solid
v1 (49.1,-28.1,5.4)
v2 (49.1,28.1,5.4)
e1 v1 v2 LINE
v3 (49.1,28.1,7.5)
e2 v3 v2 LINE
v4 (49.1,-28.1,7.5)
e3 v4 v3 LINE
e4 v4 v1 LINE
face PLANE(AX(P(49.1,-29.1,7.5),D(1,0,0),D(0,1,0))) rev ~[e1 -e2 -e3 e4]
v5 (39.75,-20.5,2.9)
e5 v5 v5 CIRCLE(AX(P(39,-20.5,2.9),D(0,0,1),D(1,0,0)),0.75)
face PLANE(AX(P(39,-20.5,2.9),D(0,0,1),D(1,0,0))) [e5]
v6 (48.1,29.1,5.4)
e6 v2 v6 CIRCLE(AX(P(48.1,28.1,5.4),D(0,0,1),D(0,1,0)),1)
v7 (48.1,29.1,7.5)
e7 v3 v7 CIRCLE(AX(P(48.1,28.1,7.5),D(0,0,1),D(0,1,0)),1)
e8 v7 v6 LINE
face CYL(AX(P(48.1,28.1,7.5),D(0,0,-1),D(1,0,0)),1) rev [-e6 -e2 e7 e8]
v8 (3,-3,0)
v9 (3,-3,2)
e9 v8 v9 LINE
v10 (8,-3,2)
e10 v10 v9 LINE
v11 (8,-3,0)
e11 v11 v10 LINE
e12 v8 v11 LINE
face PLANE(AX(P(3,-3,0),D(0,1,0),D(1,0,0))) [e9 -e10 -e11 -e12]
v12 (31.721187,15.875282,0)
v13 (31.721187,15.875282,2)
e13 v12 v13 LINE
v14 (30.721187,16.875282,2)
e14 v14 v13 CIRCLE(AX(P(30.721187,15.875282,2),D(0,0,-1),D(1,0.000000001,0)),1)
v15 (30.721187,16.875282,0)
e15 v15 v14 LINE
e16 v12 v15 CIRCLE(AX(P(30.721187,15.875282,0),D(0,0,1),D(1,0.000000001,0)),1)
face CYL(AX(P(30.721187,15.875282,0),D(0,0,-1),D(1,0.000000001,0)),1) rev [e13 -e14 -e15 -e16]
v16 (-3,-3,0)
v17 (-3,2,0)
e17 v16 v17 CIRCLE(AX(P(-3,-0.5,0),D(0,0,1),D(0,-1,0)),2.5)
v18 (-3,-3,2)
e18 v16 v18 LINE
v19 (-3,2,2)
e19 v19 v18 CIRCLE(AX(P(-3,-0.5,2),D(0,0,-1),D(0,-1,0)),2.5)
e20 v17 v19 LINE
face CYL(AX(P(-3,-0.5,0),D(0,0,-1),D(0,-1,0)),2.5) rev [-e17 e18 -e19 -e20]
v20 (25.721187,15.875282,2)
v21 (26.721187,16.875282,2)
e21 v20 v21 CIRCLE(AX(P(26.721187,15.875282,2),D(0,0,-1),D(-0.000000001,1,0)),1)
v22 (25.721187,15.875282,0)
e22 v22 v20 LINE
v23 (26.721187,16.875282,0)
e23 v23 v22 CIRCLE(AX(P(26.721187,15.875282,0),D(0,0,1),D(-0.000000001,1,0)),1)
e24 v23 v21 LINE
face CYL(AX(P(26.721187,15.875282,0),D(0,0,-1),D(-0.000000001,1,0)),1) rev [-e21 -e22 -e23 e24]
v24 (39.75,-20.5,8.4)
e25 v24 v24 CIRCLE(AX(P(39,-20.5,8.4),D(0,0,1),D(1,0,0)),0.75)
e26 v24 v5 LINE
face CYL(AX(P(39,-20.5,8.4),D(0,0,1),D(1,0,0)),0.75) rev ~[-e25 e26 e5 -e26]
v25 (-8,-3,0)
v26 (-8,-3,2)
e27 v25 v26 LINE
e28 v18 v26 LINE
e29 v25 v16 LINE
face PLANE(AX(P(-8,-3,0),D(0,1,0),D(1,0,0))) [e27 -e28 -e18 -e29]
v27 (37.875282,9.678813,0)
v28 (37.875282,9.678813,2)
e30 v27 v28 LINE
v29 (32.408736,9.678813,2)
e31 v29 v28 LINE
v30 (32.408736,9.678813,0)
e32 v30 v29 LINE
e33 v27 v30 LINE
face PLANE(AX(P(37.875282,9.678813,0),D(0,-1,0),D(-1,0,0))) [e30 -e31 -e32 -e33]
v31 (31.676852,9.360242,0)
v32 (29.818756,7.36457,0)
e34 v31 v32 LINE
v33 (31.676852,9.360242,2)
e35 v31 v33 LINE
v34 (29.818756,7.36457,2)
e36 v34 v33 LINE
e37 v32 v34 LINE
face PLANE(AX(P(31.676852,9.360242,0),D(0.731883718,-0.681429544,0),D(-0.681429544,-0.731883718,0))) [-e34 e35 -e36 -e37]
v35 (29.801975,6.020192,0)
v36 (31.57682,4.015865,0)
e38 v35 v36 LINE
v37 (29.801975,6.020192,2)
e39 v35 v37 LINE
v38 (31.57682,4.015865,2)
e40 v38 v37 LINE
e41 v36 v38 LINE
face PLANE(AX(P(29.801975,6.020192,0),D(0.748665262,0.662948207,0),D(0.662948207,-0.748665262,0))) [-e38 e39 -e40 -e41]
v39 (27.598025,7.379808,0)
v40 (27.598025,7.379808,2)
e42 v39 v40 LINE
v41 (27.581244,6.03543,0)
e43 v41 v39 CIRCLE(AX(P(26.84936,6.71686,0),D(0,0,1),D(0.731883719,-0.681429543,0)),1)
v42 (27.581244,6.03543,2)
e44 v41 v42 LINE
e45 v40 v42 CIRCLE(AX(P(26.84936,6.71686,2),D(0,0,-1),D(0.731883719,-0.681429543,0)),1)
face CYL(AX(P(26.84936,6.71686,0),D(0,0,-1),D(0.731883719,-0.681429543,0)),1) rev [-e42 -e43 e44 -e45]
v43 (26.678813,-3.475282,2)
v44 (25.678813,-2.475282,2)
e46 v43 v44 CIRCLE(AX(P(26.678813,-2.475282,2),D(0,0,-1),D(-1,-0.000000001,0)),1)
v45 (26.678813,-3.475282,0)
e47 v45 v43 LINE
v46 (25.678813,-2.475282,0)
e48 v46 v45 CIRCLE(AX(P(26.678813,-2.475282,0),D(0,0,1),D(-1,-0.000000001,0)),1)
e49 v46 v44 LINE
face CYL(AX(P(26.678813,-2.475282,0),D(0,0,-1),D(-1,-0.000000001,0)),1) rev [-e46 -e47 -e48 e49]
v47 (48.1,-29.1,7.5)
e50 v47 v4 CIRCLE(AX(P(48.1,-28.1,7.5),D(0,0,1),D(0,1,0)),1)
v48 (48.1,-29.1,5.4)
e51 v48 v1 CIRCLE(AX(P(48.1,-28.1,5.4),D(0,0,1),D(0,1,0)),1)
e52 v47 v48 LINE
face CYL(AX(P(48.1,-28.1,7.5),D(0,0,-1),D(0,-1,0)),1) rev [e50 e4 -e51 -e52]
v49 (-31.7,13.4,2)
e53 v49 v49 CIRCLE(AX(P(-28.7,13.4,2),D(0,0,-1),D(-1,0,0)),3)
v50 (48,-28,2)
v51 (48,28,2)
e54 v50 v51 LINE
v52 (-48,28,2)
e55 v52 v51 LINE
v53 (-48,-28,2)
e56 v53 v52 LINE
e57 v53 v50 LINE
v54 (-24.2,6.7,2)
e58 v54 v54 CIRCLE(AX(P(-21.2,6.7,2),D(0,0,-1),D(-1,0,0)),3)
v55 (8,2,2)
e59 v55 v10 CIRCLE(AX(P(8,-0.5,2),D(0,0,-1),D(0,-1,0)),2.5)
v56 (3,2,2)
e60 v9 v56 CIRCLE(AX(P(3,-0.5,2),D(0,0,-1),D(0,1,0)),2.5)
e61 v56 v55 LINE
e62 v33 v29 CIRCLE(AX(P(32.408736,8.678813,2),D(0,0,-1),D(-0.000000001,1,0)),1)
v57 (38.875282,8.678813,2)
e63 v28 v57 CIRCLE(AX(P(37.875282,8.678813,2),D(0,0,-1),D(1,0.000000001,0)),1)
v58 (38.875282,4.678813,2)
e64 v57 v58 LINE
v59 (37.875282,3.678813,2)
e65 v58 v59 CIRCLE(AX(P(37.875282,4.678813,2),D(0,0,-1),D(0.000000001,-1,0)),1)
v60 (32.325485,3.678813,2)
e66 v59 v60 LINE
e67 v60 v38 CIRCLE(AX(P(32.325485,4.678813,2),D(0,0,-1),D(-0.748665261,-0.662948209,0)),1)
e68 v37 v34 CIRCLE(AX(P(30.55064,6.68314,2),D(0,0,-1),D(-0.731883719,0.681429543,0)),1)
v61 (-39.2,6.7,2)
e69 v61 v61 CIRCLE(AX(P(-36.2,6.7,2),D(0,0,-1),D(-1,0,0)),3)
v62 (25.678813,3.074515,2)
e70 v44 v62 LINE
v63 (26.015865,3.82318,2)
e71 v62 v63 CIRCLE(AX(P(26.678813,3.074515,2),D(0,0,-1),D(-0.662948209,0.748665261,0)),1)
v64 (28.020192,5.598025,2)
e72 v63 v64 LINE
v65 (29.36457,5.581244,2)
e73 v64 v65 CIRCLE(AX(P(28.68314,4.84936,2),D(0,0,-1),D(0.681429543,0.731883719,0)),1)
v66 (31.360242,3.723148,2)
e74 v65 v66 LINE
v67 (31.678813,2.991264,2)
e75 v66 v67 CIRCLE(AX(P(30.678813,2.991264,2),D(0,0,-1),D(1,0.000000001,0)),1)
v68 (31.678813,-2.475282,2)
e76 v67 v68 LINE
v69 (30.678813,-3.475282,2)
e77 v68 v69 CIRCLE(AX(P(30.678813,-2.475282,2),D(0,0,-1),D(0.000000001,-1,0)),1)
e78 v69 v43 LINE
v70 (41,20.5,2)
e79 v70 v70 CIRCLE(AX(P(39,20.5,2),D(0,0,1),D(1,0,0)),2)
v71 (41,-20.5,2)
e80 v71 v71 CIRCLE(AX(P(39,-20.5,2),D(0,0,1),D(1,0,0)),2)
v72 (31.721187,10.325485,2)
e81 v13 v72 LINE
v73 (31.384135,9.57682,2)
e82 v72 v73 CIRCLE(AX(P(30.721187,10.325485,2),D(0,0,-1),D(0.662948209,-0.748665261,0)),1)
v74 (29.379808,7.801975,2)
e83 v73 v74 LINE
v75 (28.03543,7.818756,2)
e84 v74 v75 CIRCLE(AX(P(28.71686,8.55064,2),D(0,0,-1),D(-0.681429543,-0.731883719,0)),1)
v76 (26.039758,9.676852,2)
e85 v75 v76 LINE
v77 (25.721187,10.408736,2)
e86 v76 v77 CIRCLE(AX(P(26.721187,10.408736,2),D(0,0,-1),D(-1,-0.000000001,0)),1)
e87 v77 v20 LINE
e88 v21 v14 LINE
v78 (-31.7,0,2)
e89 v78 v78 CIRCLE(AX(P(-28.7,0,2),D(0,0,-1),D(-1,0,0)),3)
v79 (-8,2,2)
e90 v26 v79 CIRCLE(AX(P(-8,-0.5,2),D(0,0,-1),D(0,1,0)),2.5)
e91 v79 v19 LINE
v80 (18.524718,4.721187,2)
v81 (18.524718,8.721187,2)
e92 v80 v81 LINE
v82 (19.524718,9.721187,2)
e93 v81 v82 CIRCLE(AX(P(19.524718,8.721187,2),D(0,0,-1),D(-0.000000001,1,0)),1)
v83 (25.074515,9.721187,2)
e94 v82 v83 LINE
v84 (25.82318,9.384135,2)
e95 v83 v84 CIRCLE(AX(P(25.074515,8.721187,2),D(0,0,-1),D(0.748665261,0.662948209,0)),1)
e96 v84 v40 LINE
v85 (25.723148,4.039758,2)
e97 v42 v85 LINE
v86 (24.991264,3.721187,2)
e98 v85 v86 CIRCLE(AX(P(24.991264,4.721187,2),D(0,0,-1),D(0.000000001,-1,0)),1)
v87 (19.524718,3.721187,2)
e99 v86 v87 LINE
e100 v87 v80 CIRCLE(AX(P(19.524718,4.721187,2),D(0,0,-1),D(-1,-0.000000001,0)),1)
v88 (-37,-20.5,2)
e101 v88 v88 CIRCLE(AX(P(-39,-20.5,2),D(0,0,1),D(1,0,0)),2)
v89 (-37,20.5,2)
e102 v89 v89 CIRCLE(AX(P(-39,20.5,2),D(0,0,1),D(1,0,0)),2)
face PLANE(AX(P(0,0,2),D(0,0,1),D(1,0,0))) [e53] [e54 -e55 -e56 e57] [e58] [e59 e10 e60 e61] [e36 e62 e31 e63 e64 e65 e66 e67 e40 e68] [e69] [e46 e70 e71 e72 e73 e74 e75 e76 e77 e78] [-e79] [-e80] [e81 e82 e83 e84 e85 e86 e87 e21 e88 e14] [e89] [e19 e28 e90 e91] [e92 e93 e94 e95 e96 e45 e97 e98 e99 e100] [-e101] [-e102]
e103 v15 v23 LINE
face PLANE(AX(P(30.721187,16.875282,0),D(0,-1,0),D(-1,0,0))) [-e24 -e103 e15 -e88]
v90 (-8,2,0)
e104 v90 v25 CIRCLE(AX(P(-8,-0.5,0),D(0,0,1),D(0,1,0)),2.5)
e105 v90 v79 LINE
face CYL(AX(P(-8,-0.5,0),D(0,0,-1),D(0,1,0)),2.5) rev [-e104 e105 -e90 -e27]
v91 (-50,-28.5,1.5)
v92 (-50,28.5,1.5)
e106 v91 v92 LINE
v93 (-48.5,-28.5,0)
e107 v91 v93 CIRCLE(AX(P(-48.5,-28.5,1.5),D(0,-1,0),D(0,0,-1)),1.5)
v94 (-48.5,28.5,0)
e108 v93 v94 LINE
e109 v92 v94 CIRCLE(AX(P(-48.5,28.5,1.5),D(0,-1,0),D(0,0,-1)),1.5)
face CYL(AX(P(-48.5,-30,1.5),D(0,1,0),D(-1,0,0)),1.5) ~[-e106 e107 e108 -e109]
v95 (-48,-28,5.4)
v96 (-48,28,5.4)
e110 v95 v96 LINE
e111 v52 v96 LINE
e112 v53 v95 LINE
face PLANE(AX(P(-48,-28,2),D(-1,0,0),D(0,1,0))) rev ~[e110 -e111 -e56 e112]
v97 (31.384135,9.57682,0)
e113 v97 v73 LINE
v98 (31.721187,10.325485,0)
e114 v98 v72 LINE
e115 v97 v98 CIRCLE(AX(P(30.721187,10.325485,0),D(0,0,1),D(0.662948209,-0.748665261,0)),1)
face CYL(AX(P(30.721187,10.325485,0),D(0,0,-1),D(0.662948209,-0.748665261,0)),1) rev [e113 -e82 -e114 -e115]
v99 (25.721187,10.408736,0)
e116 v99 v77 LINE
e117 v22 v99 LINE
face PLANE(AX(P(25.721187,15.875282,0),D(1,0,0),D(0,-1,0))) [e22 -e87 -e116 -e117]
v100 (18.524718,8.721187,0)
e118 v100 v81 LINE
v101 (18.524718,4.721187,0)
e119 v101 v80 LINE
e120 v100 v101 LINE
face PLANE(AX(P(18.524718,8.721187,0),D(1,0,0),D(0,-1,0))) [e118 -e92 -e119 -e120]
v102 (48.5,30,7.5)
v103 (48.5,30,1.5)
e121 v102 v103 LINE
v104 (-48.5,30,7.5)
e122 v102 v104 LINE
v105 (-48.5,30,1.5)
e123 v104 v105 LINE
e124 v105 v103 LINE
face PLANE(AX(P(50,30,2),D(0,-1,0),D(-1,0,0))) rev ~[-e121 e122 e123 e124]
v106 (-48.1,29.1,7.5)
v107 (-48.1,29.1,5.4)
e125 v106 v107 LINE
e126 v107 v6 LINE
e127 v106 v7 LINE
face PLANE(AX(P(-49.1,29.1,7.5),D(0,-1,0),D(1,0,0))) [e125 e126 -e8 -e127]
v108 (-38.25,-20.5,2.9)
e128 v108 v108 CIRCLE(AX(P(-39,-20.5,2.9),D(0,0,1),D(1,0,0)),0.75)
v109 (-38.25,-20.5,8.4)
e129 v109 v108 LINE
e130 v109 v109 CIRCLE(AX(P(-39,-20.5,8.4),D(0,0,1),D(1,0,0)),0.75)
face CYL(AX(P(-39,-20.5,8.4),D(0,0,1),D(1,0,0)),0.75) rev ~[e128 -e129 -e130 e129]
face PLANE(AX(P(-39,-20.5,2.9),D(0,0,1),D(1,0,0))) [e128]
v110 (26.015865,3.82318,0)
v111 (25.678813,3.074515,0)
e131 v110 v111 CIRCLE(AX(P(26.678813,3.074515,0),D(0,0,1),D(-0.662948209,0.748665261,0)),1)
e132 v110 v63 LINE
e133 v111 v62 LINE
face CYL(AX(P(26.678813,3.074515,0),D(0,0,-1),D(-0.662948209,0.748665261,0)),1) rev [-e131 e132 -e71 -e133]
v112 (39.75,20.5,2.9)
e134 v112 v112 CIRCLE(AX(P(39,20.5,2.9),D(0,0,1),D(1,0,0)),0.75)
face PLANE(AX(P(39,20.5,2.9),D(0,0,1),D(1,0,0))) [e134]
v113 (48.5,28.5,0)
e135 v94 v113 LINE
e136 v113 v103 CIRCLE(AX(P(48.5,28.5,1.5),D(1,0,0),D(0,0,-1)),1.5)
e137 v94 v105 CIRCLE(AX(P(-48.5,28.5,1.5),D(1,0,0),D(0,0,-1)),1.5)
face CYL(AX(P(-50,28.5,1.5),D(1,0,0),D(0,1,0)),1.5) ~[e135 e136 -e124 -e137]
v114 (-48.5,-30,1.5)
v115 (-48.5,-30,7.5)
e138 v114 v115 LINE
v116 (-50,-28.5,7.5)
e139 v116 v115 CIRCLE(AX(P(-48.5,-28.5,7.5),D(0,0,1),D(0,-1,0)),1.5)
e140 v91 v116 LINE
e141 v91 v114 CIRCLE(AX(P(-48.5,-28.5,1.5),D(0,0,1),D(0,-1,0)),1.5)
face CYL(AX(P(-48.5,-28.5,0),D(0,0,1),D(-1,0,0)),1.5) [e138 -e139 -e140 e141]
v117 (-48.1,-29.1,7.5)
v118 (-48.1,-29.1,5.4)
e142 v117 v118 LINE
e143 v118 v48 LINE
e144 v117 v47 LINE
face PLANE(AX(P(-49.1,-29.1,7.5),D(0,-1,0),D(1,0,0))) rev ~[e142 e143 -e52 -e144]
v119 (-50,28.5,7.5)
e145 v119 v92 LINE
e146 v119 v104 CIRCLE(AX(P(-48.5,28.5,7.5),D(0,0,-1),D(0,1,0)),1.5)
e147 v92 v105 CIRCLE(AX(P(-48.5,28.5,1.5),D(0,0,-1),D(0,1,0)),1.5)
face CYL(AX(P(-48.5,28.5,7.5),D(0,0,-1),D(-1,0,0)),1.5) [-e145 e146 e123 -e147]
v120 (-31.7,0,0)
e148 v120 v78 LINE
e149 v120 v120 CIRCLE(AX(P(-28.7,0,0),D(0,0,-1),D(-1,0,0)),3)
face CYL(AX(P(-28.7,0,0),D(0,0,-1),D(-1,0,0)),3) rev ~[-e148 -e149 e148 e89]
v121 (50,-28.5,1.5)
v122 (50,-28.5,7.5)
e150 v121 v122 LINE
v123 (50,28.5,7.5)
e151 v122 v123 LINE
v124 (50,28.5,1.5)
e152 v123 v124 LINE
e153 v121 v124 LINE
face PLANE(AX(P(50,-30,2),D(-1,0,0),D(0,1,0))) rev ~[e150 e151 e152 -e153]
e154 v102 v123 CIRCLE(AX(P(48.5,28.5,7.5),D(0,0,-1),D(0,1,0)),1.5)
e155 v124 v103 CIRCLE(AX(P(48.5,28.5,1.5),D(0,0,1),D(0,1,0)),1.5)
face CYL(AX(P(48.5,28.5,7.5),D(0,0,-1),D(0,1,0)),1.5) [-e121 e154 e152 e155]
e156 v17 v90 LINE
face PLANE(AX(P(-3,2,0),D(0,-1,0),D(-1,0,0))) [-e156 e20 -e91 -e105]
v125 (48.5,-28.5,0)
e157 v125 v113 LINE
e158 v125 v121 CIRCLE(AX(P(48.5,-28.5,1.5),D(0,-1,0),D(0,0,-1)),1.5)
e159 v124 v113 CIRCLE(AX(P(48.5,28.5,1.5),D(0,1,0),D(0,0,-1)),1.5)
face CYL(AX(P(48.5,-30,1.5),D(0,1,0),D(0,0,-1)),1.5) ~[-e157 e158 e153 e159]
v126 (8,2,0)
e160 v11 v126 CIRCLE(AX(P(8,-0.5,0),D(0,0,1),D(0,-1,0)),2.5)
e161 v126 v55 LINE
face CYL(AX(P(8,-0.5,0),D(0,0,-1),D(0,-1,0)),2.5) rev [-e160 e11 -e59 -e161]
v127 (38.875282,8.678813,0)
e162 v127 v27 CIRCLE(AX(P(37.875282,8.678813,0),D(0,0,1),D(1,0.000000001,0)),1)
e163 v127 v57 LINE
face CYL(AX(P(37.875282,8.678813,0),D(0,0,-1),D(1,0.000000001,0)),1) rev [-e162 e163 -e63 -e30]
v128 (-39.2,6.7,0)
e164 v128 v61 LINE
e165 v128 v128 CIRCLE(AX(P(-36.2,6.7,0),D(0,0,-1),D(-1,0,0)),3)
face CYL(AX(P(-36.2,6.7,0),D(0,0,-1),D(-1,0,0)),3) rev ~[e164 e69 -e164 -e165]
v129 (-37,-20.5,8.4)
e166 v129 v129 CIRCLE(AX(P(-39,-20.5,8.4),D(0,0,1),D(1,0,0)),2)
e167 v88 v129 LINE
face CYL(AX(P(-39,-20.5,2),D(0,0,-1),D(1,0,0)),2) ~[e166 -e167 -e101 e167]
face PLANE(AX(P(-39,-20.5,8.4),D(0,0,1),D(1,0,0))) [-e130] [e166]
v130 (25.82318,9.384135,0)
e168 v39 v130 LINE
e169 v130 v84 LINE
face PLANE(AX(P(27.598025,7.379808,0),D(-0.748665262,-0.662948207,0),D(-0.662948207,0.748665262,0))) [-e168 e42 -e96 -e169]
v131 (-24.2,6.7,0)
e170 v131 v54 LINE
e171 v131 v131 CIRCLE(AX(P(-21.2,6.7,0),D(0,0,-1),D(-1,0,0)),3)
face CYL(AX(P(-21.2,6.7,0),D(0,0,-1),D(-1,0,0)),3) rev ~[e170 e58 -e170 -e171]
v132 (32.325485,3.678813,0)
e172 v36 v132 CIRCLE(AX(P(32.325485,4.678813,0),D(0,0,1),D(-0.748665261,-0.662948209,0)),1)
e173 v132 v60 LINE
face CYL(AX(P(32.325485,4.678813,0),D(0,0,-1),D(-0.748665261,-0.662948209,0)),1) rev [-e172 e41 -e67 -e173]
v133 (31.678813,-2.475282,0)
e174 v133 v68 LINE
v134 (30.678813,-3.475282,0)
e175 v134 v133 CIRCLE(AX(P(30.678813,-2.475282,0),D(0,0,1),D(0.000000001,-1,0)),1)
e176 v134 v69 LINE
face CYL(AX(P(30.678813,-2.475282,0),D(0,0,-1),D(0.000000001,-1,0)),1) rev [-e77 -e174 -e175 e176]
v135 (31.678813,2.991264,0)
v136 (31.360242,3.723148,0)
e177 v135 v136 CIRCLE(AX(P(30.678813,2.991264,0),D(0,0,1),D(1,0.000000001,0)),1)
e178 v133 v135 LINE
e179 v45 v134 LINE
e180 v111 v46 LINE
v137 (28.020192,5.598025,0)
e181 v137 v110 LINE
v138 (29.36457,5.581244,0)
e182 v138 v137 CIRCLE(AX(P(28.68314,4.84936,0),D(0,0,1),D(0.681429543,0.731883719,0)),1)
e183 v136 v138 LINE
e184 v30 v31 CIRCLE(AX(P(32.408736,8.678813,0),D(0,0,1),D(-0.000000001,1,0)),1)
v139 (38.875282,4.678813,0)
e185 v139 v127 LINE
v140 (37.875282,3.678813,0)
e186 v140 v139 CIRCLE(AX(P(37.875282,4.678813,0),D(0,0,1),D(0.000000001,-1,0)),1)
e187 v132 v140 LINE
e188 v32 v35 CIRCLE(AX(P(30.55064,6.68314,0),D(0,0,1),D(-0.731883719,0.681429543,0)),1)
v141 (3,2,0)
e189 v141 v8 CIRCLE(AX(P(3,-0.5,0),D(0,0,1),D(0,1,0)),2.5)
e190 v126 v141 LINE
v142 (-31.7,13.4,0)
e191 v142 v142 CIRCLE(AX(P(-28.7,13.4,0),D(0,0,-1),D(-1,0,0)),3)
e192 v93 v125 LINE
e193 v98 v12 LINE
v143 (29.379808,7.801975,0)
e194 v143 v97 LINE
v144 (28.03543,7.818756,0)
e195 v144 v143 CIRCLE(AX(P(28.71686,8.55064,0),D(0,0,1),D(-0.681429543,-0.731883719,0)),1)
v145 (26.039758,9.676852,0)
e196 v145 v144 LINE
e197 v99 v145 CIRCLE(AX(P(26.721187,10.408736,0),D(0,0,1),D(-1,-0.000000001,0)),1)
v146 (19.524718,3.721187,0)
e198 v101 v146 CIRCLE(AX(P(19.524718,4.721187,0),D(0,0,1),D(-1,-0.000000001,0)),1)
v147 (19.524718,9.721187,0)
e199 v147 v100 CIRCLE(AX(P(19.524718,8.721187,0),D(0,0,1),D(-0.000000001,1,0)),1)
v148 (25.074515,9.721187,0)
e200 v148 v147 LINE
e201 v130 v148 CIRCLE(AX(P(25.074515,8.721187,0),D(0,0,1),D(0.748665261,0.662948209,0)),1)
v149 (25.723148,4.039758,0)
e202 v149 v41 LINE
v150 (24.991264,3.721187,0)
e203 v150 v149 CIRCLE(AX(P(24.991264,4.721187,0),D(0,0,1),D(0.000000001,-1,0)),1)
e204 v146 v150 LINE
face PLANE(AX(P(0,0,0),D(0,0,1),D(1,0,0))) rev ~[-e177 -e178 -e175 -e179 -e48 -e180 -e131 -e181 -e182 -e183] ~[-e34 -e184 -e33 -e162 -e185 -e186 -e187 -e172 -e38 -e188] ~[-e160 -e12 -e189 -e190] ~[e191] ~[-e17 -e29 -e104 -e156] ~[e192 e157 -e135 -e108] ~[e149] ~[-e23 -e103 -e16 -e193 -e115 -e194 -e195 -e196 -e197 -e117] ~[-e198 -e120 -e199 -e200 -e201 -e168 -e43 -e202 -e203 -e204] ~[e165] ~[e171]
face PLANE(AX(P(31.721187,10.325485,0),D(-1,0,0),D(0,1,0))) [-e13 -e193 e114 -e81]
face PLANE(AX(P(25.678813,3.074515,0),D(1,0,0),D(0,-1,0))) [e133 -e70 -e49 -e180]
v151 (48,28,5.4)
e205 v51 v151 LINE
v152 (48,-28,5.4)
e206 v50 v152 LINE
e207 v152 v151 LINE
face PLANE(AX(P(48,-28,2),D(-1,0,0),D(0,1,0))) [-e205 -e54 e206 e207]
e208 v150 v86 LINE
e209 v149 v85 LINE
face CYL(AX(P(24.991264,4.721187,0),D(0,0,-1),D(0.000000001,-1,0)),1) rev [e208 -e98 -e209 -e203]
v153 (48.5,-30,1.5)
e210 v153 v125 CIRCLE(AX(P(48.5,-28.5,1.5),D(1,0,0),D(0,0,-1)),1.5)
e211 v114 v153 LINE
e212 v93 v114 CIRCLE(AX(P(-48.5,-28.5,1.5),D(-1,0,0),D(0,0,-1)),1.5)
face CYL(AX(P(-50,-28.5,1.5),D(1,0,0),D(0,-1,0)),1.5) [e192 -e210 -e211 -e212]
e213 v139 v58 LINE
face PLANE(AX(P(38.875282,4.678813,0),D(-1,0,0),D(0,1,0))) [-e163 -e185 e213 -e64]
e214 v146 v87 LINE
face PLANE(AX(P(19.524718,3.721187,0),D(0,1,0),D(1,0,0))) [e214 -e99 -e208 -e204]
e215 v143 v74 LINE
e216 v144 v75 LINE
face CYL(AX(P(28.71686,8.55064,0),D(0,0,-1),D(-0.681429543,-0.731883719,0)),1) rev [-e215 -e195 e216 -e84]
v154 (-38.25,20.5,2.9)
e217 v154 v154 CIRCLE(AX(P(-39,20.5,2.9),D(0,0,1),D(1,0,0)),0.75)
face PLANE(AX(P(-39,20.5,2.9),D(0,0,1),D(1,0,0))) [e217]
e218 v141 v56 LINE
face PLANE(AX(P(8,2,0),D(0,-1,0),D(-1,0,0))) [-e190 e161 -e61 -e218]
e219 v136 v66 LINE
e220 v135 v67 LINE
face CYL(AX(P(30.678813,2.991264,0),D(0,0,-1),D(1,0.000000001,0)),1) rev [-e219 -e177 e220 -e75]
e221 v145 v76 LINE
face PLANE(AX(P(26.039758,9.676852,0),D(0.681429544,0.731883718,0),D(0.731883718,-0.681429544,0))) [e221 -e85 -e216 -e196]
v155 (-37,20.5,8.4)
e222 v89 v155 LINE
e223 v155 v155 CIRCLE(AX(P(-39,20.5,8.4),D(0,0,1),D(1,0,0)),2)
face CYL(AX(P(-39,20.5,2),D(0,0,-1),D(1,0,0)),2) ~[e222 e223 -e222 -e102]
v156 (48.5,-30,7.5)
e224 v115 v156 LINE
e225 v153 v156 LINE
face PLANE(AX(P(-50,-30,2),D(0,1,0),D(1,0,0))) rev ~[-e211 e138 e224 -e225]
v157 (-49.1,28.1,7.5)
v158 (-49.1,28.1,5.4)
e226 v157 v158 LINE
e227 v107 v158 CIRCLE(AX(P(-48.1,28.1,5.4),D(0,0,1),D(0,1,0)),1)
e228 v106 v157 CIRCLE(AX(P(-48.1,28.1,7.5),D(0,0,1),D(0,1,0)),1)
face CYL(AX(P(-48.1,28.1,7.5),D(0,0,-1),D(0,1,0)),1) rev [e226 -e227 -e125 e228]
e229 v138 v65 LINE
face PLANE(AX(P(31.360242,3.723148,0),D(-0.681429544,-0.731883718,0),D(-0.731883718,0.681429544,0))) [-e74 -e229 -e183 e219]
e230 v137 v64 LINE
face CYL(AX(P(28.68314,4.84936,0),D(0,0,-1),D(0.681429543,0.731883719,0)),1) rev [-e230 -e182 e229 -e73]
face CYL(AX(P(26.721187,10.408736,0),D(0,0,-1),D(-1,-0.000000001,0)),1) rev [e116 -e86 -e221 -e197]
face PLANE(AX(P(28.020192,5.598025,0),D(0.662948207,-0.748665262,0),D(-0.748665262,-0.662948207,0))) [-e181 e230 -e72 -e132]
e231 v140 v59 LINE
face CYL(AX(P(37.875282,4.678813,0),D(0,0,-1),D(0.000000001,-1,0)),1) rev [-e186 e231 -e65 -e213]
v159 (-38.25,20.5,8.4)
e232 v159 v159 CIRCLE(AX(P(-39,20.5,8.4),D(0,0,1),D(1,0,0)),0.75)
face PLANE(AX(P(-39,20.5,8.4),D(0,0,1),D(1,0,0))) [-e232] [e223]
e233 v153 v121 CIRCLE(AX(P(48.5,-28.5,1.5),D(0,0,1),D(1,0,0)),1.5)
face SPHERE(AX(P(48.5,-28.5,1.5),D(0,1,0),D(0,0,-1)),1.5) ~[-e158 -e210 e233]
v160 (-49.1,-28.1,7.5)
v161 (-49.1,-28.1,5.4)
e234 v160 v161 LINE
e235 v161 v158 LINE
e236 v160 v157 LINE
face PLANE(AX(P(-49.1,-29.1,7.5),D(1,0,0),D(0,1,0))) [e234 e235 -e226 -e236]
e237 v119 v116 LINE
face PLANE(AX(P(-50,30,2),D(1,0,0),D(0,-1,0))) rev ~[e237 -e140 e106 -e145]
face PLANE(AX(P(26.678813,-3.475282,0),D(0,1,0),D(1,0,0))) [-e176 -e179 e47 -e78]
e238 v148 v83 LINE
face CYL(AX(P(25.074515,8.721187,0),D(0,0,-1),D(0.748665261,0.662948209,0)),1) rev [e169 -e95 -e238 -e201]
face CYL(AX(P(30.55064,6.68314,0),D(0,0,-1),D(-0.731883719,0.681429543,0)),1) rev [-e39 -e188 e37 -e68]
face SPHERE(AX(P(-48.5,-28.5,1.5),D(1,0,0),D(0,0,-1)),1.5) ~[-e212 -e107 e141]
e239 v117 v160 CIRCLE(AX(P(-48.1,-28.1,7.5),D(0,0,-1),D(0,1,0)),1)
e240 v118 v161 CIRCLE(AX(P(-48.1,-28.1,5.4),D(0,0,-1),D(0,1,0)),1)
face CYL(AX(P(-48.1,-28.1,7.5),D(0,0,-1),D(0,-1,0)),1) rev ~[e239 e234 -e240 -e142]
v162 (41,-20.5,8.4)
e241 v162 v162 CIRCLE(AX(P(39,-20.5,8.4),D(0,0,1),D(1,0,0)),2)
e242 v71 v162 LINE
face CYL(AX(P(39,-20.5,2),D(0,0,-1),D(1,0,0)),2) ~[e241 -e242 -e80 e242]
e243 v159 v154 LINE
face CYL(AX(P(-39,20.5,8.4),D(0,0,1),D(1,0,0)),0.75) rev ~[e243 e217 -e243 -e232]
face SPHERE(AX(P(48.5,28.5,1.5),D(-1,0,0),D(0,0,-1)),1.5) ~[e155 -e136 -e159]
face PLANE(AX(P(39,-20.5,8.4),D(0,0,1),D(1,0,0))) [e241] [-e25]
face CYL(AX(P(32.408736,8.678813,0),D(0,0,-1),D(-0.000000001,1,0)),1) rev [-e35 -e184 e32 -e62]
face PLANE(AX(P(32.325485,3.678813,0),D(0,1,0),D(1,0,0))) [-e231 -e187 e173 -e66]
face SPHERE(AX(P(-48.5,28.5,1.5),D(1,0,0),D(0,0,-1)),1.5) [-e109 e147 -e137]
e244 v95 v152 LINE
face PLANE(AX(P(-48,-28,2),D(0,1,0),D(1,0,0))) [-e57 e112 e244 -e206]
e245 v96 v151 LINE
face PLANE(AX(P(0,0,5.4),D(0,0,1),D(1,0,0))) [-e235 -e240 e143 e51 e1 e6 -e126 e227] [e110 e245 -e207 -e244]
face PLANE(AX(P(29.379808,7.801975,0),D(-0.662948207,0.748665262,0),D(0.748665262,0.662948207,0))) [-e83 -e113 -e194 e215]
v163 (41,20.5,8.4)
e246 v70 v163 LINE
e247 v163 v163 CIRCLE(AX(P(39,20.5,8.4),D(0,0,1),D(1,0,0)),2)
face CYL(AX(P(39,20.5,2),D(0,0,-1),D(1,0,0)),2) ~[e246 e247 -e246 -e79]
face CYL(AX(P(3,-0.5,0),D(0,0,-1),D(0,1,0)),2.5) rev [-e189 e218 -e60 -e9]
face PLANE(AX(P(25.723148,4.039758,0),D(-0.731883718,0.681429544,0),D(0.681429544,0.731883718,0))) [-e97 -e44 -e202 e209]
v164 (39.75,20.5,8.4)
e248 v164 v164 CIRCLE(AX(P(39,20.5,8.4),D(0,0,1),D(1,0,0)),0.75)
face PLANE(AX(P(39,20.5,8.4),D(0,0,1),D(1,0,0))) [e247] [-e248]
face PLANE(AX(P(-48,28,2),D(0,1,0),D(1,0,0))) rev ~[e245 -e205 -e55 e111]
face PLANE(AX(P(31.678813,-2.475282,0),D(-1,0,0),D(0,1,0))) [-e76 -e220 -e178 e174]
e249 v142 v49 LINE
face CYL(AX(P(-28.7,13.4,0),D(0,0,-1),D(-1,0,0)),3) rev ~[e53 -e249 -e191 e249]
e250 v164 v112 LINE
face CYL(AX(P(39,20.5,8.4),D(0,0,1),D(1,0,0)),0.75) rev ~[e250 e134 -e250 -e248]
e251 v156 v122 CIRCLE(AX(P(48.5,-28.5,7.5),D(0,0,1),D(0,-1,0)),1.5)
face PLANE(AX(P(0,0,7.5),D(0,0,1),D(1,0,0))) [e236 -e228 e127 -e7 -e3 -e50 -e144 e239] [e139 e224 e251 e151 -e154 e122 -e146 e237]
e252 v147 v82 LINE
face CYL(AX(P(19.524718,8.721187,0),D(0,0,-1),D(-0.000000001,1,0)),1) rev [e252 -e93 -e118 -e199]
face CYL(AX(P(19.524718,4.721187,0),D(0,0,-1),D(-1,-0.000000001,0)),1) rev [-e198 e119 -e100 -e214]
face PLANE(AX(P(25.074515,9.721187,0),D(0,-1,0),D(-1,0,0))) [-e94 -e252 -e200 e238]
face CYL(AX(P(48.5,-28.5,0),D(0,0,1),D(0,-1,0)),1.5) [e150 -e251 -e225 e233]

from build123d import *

# Parameters (mm, degrees)
SKETCH_1_W          = 100
SKETCH_1_H          = 60
EXTRUDE_1_DEPTH     = 2
SKETCH_2_W          = 96
SKETCH_2_H          = 56
EXTRUDE_2_DEPTH     = 5.5
SKETCH_3_W          = 98.2
SKETCH_3_H          = 58.2
SKETCH_3_W_2        = 96
SKETCH_3_H_2        = 56
CUT_EXTRUDE_1_DEPTH = 2.1
FILLET_1_R          = 1.5
FILLET_2_R          = 1
SKETCH_4_R          = 2
EXTRUDE_3_DEPTH     = 6.4
SKETCH_5_R          = 0.75
CUT_EXTRUDE_3_DEPTH = 5.5
SKETCH_6_R          = 3
CUT_EXTRUDE_4_DEPTH = 10


with BuildPart() as part:
    # 草图1 → 凸台-拉伸1 (new body)
    with BuildSketch(Plane.XY):
        Rectangle(SKETCH_1_W, SKETCH_1_H)
    extrude(amount=EXTRUDE_1_DEPTH)

    # 草图2 → 凸台-拉伸2 (add)
    with BuildSketch(Plane.XY.offset(2)):
        Polygon((-48, 30), (-50, 30), (-50, 28), (-50, -28), (-50, -30), (-48, -30), (48, -30), (50, -30), (50, -28), (50, 28), (50, 30), (48, 30), align=None)
        Rectangle(SKETCH_2_W, SKETCH_2_H, mode=Mode.SUBTRACT)
    extrude(amount=EXTRUDE_2_DEPTH)

    # 草图3 → 切除-拉伸1 (cut)
    with BuildSketch(Plane.XY.offset(7.5)):
        Rectangle(SKETCH_3_W, SKETCH_3_H)
        Rectangle(SKETCH_3_W_2, SKETCH_3_H_2, mode=Mode.SUBTRACT)
    extrude(amount=-CUT_EXTRUDE_1_DEPTH, mode=Mode.SUBTRACT)

    # 圆角1
    fillet_1_edges = [part.edges().sort_by_distance(p)[0] for p in [
        (0, 30, 0),
        (50, 0, 0),
        (0, -30, 0),
        (-50, 0, 0),
        (-50, 30, 3.75),
        (50, 30, 3.75),
        (50, -30, 3.75),
        (-50, -30, 3.75),
    ]]
    fillet(fillet_1_edges, radius=FILLET_1_R)

    # 圆角2
    fillet_2_edges = [part.edges().sort_by_distance(p)[0] for p in [
        (-49.1, -29.1, 6.45),
        (-49.1, 29.1, 6.45),
        (49.1, 29.1, 6.45),
        (49.1, -29.1, 6.45),
    ]]
    fillet(fillet_2_edges, radius=FILLET_2_R)

    # 草图4 → 凸台-拉伸3 (add)
    with BuildSketch(Plane.XY.offset(2)):
        with Locations((-39, 20.5)):
            Circle(SKETCH_4_R)
        with Locations((39, 20.5)):
            Circle(SKETCH_4_R)
        with Locations((39, -20.5)):
            Circle(SKETCH_4_R)
        with Locations((-39, -20.5)):
            Circle(SKETCH_4_R)
    extrude(amount=EXTRUDE_3_DEPTH)

    # 草图5 → 切除-拉伸3 (cut)
    with BuildSketch(Plane.XY.offset(8.4)):
        with Locations((-39, 20.5)):
            Circle(SKETCH_5_R)
        with Locations((39, 20.5)):
            Circle(SKETCH_5_R)
        with Locations((39, -20.5)):
            Circle(SKETCH_5_R)
        with Locations((-39, -20.5)):
            Circle(SKETCH_5_R)
    extrude(amount=-CUT_EXTRUDE_3_DEPTH, mode=Mode.SUBTRACT)

    # 草图6 → 切除-拉伸4 (cut)
    with BuildSketch(Plane(origin=(0, 0, 0), x_dir=(-1, 0, 0), z_dir=(0, 0, -1))):
        with BuildLine():
            ThreePointArc((3, -3), (0.5, -0.5), (3, 2))
            Line((3, 2), (8, 2))
            ThreePointArc((8, 2), (10.5, -0.5), (8, -3))
            Line((8, -3), (3, -3))
        make_face()
        with Locations((21.2, 6.7)):
            Circle(SKETCH_6_R)
        with Locations((28.7, 13.4)):
            Circle(SKETCH_6_R)
        with Locations((36.2, 6.7)):
            Circle(SKETCH_6_R)
        with Locations((28.7, 0)):
            Circle(SKETCH_6_R)
        with BuildLine():
            Line((-26.039757501, 9.676852248), (-28.035430168, 7.818756103))
            ThreePointArc((-28.035430168, 7.818756103), (-28.704377925, 7.550717722), (-29.379807919, 7.801974559))
            Line((-29.379807919, 7.801974559), (-31.384135252, 9.576820114))
            ThreePointArc((-31.384135252, 9.576820114), (-31.633039063, 9.914966319), (-31.721187045, 10.325485376))
            Line((-31.721187045, 10.325485376), (-31.721187045, 15.875281781))
            ThreePointArc((-31.721187045, 15.875281781), (-31.428293826, 16.582388562), (-30.721187045, 16.875281781))
            Line((-30.721187045, 16.875281781), (-26.721187045, 16.875281781))
            ThreePointArc((-26.721187045, 16.875281781), (-26.014080264, 16.582388562), (-25.721187045, 15.875281781))
            Line((-25.721187045, 15.875281781), (-25.721187045, 10.408735966))
            ThreePointArc((-25.721187045, 10.408735966), (-25.804282049, 10.009630431), (-26.039757501, 9.676852248))
        make_face()
        with BuildLine():
            Line((-25.723147752, 4.039757501), (-27.581243897, 6.035430168))
            ThreePointArc((-27.581243897, 6.035430168), (-27.849282278, 6.704377925), (-27.598025441, 7.379807919))
            Line((-27.598025441, 7.379807919), (-25.823179886, 9.384135252))
            ThreePointArc((-25.823179886, 9.384135252), (-25.485033681, 9.633039063), (-25.074514624, 9.721187045))
            Line((-25.074514624, 9.721187045), (-19.524718219, 9.721187045))
            ThreePointArc((-19.524718219, 9.721187045), (-18.817611438, 9.428293826), (-18.524718219, 8.721187045))
            Line((-18.524718219, 8.721187045), (-18.524718219, 4.721187045))
            ThreePointArc((-18.524718219, 4.721187045), (-18.817611438, 4.014080264), (-19.524718219, 3.721187045))
            Line((-19.524718219, 3.721187045), (-24.991264034, 3.721187045))
            ThreePointArc((-24.991264034, 3.721187045), (-25.390369569, 3.804282049), (-25.723147752, 4.039757501))
        make_face()
        with BuildLine():
            Line((-31.360242499, 3.723147752), (-29.364569832, 5.581243897))
            ThreePointArc((-29.364569832, 5.581243897), (-28.695622075, 5.849282278), (-28.020192081, 5.598025441))
            Line((-28.020192081, 5.598025441), (-26.015864748, 3.823179886))
            ThreePointArc((-26.015864748, 3.823179886), (-25.766960937, 3.485033681), (-25.678812955, 3.074514624))
            Line((-25.678812955, 3.074514624), (-25.678812955, -2.475281781))
            ThreePointArc((-25.678812955, -2.475281781), (-25.971706174, -3.182388562), (-26.678812955, -3.475281781))
            Line((-26.678812955, -3.475281781), (-30.678812955, -3.475281781))
            ThreePointArc((-30.678812955, -3.475281781), (-31.385919736, -3.182388562), (-31.678812955, -2.475281781))
            Line((-31.678812955, -2.475281781), (-31.678812955, 2.991264034))
            ThreePointArc((-31.678812955, 2.991264034), (-31.595717951, 3.390369569), (-31.360242499, 3.723147752))
        make_face()
        with BuildLine():
            Line((-29.801974559, 6.020192081), (-31.576820114, 4.015864748))
            ThreePointArc((-31.576820114, 4.015864748), (-31.914966319, 3.766960937), (-32.325485376, 3.678812955))
            Line((-32.325485376, 3.678812955), (-37.875281781, 3.678812955))
            ThreePointArc((-37.875281781, 3.678812955), (-38.582388562, 3.971706174), (-38.875281781, 4.678812955))
            Line((-38.875281781, 4.678812955), (-38.875281781, 8.678812955))
            ThreePointArc((-38.875281781, 8.678812955), (-38.582388562, 9.385919736), (-37.875281781, 9.678812955))
            Line((-37.875281781, 9.678812955), (-32.408735966, 9.678812955))
            ThreePointArc((-32.408735966, 9.678812955), (-32.009630431, 9.595717951), (-31.676852248, 9.360242499))
            Line((-31.676852248, 9.360242499), (-29.818756103, 7.364569832))
            ThreePointArc((-29.818756103, 7.364569832), (-29.550717722, 6.695622075), (-29.801974559, 6.020192081))
        make_face()
        with BuildLine():
            Line((-8, 2), (-3, 2))
            ThreePointArc((-3, 2), (-0.5, -0.5), (-3, -3))
            Line((-3, -3), (-8, -3))
            ThreePointArc((-8, -3), (-10.5, -0.5), (-8, 2))
        make_face()
    extrude(amount=-CUT_EXTRUDE_4_DEPTH, mode=Mode.SUBTRACT)


solid = part.part
